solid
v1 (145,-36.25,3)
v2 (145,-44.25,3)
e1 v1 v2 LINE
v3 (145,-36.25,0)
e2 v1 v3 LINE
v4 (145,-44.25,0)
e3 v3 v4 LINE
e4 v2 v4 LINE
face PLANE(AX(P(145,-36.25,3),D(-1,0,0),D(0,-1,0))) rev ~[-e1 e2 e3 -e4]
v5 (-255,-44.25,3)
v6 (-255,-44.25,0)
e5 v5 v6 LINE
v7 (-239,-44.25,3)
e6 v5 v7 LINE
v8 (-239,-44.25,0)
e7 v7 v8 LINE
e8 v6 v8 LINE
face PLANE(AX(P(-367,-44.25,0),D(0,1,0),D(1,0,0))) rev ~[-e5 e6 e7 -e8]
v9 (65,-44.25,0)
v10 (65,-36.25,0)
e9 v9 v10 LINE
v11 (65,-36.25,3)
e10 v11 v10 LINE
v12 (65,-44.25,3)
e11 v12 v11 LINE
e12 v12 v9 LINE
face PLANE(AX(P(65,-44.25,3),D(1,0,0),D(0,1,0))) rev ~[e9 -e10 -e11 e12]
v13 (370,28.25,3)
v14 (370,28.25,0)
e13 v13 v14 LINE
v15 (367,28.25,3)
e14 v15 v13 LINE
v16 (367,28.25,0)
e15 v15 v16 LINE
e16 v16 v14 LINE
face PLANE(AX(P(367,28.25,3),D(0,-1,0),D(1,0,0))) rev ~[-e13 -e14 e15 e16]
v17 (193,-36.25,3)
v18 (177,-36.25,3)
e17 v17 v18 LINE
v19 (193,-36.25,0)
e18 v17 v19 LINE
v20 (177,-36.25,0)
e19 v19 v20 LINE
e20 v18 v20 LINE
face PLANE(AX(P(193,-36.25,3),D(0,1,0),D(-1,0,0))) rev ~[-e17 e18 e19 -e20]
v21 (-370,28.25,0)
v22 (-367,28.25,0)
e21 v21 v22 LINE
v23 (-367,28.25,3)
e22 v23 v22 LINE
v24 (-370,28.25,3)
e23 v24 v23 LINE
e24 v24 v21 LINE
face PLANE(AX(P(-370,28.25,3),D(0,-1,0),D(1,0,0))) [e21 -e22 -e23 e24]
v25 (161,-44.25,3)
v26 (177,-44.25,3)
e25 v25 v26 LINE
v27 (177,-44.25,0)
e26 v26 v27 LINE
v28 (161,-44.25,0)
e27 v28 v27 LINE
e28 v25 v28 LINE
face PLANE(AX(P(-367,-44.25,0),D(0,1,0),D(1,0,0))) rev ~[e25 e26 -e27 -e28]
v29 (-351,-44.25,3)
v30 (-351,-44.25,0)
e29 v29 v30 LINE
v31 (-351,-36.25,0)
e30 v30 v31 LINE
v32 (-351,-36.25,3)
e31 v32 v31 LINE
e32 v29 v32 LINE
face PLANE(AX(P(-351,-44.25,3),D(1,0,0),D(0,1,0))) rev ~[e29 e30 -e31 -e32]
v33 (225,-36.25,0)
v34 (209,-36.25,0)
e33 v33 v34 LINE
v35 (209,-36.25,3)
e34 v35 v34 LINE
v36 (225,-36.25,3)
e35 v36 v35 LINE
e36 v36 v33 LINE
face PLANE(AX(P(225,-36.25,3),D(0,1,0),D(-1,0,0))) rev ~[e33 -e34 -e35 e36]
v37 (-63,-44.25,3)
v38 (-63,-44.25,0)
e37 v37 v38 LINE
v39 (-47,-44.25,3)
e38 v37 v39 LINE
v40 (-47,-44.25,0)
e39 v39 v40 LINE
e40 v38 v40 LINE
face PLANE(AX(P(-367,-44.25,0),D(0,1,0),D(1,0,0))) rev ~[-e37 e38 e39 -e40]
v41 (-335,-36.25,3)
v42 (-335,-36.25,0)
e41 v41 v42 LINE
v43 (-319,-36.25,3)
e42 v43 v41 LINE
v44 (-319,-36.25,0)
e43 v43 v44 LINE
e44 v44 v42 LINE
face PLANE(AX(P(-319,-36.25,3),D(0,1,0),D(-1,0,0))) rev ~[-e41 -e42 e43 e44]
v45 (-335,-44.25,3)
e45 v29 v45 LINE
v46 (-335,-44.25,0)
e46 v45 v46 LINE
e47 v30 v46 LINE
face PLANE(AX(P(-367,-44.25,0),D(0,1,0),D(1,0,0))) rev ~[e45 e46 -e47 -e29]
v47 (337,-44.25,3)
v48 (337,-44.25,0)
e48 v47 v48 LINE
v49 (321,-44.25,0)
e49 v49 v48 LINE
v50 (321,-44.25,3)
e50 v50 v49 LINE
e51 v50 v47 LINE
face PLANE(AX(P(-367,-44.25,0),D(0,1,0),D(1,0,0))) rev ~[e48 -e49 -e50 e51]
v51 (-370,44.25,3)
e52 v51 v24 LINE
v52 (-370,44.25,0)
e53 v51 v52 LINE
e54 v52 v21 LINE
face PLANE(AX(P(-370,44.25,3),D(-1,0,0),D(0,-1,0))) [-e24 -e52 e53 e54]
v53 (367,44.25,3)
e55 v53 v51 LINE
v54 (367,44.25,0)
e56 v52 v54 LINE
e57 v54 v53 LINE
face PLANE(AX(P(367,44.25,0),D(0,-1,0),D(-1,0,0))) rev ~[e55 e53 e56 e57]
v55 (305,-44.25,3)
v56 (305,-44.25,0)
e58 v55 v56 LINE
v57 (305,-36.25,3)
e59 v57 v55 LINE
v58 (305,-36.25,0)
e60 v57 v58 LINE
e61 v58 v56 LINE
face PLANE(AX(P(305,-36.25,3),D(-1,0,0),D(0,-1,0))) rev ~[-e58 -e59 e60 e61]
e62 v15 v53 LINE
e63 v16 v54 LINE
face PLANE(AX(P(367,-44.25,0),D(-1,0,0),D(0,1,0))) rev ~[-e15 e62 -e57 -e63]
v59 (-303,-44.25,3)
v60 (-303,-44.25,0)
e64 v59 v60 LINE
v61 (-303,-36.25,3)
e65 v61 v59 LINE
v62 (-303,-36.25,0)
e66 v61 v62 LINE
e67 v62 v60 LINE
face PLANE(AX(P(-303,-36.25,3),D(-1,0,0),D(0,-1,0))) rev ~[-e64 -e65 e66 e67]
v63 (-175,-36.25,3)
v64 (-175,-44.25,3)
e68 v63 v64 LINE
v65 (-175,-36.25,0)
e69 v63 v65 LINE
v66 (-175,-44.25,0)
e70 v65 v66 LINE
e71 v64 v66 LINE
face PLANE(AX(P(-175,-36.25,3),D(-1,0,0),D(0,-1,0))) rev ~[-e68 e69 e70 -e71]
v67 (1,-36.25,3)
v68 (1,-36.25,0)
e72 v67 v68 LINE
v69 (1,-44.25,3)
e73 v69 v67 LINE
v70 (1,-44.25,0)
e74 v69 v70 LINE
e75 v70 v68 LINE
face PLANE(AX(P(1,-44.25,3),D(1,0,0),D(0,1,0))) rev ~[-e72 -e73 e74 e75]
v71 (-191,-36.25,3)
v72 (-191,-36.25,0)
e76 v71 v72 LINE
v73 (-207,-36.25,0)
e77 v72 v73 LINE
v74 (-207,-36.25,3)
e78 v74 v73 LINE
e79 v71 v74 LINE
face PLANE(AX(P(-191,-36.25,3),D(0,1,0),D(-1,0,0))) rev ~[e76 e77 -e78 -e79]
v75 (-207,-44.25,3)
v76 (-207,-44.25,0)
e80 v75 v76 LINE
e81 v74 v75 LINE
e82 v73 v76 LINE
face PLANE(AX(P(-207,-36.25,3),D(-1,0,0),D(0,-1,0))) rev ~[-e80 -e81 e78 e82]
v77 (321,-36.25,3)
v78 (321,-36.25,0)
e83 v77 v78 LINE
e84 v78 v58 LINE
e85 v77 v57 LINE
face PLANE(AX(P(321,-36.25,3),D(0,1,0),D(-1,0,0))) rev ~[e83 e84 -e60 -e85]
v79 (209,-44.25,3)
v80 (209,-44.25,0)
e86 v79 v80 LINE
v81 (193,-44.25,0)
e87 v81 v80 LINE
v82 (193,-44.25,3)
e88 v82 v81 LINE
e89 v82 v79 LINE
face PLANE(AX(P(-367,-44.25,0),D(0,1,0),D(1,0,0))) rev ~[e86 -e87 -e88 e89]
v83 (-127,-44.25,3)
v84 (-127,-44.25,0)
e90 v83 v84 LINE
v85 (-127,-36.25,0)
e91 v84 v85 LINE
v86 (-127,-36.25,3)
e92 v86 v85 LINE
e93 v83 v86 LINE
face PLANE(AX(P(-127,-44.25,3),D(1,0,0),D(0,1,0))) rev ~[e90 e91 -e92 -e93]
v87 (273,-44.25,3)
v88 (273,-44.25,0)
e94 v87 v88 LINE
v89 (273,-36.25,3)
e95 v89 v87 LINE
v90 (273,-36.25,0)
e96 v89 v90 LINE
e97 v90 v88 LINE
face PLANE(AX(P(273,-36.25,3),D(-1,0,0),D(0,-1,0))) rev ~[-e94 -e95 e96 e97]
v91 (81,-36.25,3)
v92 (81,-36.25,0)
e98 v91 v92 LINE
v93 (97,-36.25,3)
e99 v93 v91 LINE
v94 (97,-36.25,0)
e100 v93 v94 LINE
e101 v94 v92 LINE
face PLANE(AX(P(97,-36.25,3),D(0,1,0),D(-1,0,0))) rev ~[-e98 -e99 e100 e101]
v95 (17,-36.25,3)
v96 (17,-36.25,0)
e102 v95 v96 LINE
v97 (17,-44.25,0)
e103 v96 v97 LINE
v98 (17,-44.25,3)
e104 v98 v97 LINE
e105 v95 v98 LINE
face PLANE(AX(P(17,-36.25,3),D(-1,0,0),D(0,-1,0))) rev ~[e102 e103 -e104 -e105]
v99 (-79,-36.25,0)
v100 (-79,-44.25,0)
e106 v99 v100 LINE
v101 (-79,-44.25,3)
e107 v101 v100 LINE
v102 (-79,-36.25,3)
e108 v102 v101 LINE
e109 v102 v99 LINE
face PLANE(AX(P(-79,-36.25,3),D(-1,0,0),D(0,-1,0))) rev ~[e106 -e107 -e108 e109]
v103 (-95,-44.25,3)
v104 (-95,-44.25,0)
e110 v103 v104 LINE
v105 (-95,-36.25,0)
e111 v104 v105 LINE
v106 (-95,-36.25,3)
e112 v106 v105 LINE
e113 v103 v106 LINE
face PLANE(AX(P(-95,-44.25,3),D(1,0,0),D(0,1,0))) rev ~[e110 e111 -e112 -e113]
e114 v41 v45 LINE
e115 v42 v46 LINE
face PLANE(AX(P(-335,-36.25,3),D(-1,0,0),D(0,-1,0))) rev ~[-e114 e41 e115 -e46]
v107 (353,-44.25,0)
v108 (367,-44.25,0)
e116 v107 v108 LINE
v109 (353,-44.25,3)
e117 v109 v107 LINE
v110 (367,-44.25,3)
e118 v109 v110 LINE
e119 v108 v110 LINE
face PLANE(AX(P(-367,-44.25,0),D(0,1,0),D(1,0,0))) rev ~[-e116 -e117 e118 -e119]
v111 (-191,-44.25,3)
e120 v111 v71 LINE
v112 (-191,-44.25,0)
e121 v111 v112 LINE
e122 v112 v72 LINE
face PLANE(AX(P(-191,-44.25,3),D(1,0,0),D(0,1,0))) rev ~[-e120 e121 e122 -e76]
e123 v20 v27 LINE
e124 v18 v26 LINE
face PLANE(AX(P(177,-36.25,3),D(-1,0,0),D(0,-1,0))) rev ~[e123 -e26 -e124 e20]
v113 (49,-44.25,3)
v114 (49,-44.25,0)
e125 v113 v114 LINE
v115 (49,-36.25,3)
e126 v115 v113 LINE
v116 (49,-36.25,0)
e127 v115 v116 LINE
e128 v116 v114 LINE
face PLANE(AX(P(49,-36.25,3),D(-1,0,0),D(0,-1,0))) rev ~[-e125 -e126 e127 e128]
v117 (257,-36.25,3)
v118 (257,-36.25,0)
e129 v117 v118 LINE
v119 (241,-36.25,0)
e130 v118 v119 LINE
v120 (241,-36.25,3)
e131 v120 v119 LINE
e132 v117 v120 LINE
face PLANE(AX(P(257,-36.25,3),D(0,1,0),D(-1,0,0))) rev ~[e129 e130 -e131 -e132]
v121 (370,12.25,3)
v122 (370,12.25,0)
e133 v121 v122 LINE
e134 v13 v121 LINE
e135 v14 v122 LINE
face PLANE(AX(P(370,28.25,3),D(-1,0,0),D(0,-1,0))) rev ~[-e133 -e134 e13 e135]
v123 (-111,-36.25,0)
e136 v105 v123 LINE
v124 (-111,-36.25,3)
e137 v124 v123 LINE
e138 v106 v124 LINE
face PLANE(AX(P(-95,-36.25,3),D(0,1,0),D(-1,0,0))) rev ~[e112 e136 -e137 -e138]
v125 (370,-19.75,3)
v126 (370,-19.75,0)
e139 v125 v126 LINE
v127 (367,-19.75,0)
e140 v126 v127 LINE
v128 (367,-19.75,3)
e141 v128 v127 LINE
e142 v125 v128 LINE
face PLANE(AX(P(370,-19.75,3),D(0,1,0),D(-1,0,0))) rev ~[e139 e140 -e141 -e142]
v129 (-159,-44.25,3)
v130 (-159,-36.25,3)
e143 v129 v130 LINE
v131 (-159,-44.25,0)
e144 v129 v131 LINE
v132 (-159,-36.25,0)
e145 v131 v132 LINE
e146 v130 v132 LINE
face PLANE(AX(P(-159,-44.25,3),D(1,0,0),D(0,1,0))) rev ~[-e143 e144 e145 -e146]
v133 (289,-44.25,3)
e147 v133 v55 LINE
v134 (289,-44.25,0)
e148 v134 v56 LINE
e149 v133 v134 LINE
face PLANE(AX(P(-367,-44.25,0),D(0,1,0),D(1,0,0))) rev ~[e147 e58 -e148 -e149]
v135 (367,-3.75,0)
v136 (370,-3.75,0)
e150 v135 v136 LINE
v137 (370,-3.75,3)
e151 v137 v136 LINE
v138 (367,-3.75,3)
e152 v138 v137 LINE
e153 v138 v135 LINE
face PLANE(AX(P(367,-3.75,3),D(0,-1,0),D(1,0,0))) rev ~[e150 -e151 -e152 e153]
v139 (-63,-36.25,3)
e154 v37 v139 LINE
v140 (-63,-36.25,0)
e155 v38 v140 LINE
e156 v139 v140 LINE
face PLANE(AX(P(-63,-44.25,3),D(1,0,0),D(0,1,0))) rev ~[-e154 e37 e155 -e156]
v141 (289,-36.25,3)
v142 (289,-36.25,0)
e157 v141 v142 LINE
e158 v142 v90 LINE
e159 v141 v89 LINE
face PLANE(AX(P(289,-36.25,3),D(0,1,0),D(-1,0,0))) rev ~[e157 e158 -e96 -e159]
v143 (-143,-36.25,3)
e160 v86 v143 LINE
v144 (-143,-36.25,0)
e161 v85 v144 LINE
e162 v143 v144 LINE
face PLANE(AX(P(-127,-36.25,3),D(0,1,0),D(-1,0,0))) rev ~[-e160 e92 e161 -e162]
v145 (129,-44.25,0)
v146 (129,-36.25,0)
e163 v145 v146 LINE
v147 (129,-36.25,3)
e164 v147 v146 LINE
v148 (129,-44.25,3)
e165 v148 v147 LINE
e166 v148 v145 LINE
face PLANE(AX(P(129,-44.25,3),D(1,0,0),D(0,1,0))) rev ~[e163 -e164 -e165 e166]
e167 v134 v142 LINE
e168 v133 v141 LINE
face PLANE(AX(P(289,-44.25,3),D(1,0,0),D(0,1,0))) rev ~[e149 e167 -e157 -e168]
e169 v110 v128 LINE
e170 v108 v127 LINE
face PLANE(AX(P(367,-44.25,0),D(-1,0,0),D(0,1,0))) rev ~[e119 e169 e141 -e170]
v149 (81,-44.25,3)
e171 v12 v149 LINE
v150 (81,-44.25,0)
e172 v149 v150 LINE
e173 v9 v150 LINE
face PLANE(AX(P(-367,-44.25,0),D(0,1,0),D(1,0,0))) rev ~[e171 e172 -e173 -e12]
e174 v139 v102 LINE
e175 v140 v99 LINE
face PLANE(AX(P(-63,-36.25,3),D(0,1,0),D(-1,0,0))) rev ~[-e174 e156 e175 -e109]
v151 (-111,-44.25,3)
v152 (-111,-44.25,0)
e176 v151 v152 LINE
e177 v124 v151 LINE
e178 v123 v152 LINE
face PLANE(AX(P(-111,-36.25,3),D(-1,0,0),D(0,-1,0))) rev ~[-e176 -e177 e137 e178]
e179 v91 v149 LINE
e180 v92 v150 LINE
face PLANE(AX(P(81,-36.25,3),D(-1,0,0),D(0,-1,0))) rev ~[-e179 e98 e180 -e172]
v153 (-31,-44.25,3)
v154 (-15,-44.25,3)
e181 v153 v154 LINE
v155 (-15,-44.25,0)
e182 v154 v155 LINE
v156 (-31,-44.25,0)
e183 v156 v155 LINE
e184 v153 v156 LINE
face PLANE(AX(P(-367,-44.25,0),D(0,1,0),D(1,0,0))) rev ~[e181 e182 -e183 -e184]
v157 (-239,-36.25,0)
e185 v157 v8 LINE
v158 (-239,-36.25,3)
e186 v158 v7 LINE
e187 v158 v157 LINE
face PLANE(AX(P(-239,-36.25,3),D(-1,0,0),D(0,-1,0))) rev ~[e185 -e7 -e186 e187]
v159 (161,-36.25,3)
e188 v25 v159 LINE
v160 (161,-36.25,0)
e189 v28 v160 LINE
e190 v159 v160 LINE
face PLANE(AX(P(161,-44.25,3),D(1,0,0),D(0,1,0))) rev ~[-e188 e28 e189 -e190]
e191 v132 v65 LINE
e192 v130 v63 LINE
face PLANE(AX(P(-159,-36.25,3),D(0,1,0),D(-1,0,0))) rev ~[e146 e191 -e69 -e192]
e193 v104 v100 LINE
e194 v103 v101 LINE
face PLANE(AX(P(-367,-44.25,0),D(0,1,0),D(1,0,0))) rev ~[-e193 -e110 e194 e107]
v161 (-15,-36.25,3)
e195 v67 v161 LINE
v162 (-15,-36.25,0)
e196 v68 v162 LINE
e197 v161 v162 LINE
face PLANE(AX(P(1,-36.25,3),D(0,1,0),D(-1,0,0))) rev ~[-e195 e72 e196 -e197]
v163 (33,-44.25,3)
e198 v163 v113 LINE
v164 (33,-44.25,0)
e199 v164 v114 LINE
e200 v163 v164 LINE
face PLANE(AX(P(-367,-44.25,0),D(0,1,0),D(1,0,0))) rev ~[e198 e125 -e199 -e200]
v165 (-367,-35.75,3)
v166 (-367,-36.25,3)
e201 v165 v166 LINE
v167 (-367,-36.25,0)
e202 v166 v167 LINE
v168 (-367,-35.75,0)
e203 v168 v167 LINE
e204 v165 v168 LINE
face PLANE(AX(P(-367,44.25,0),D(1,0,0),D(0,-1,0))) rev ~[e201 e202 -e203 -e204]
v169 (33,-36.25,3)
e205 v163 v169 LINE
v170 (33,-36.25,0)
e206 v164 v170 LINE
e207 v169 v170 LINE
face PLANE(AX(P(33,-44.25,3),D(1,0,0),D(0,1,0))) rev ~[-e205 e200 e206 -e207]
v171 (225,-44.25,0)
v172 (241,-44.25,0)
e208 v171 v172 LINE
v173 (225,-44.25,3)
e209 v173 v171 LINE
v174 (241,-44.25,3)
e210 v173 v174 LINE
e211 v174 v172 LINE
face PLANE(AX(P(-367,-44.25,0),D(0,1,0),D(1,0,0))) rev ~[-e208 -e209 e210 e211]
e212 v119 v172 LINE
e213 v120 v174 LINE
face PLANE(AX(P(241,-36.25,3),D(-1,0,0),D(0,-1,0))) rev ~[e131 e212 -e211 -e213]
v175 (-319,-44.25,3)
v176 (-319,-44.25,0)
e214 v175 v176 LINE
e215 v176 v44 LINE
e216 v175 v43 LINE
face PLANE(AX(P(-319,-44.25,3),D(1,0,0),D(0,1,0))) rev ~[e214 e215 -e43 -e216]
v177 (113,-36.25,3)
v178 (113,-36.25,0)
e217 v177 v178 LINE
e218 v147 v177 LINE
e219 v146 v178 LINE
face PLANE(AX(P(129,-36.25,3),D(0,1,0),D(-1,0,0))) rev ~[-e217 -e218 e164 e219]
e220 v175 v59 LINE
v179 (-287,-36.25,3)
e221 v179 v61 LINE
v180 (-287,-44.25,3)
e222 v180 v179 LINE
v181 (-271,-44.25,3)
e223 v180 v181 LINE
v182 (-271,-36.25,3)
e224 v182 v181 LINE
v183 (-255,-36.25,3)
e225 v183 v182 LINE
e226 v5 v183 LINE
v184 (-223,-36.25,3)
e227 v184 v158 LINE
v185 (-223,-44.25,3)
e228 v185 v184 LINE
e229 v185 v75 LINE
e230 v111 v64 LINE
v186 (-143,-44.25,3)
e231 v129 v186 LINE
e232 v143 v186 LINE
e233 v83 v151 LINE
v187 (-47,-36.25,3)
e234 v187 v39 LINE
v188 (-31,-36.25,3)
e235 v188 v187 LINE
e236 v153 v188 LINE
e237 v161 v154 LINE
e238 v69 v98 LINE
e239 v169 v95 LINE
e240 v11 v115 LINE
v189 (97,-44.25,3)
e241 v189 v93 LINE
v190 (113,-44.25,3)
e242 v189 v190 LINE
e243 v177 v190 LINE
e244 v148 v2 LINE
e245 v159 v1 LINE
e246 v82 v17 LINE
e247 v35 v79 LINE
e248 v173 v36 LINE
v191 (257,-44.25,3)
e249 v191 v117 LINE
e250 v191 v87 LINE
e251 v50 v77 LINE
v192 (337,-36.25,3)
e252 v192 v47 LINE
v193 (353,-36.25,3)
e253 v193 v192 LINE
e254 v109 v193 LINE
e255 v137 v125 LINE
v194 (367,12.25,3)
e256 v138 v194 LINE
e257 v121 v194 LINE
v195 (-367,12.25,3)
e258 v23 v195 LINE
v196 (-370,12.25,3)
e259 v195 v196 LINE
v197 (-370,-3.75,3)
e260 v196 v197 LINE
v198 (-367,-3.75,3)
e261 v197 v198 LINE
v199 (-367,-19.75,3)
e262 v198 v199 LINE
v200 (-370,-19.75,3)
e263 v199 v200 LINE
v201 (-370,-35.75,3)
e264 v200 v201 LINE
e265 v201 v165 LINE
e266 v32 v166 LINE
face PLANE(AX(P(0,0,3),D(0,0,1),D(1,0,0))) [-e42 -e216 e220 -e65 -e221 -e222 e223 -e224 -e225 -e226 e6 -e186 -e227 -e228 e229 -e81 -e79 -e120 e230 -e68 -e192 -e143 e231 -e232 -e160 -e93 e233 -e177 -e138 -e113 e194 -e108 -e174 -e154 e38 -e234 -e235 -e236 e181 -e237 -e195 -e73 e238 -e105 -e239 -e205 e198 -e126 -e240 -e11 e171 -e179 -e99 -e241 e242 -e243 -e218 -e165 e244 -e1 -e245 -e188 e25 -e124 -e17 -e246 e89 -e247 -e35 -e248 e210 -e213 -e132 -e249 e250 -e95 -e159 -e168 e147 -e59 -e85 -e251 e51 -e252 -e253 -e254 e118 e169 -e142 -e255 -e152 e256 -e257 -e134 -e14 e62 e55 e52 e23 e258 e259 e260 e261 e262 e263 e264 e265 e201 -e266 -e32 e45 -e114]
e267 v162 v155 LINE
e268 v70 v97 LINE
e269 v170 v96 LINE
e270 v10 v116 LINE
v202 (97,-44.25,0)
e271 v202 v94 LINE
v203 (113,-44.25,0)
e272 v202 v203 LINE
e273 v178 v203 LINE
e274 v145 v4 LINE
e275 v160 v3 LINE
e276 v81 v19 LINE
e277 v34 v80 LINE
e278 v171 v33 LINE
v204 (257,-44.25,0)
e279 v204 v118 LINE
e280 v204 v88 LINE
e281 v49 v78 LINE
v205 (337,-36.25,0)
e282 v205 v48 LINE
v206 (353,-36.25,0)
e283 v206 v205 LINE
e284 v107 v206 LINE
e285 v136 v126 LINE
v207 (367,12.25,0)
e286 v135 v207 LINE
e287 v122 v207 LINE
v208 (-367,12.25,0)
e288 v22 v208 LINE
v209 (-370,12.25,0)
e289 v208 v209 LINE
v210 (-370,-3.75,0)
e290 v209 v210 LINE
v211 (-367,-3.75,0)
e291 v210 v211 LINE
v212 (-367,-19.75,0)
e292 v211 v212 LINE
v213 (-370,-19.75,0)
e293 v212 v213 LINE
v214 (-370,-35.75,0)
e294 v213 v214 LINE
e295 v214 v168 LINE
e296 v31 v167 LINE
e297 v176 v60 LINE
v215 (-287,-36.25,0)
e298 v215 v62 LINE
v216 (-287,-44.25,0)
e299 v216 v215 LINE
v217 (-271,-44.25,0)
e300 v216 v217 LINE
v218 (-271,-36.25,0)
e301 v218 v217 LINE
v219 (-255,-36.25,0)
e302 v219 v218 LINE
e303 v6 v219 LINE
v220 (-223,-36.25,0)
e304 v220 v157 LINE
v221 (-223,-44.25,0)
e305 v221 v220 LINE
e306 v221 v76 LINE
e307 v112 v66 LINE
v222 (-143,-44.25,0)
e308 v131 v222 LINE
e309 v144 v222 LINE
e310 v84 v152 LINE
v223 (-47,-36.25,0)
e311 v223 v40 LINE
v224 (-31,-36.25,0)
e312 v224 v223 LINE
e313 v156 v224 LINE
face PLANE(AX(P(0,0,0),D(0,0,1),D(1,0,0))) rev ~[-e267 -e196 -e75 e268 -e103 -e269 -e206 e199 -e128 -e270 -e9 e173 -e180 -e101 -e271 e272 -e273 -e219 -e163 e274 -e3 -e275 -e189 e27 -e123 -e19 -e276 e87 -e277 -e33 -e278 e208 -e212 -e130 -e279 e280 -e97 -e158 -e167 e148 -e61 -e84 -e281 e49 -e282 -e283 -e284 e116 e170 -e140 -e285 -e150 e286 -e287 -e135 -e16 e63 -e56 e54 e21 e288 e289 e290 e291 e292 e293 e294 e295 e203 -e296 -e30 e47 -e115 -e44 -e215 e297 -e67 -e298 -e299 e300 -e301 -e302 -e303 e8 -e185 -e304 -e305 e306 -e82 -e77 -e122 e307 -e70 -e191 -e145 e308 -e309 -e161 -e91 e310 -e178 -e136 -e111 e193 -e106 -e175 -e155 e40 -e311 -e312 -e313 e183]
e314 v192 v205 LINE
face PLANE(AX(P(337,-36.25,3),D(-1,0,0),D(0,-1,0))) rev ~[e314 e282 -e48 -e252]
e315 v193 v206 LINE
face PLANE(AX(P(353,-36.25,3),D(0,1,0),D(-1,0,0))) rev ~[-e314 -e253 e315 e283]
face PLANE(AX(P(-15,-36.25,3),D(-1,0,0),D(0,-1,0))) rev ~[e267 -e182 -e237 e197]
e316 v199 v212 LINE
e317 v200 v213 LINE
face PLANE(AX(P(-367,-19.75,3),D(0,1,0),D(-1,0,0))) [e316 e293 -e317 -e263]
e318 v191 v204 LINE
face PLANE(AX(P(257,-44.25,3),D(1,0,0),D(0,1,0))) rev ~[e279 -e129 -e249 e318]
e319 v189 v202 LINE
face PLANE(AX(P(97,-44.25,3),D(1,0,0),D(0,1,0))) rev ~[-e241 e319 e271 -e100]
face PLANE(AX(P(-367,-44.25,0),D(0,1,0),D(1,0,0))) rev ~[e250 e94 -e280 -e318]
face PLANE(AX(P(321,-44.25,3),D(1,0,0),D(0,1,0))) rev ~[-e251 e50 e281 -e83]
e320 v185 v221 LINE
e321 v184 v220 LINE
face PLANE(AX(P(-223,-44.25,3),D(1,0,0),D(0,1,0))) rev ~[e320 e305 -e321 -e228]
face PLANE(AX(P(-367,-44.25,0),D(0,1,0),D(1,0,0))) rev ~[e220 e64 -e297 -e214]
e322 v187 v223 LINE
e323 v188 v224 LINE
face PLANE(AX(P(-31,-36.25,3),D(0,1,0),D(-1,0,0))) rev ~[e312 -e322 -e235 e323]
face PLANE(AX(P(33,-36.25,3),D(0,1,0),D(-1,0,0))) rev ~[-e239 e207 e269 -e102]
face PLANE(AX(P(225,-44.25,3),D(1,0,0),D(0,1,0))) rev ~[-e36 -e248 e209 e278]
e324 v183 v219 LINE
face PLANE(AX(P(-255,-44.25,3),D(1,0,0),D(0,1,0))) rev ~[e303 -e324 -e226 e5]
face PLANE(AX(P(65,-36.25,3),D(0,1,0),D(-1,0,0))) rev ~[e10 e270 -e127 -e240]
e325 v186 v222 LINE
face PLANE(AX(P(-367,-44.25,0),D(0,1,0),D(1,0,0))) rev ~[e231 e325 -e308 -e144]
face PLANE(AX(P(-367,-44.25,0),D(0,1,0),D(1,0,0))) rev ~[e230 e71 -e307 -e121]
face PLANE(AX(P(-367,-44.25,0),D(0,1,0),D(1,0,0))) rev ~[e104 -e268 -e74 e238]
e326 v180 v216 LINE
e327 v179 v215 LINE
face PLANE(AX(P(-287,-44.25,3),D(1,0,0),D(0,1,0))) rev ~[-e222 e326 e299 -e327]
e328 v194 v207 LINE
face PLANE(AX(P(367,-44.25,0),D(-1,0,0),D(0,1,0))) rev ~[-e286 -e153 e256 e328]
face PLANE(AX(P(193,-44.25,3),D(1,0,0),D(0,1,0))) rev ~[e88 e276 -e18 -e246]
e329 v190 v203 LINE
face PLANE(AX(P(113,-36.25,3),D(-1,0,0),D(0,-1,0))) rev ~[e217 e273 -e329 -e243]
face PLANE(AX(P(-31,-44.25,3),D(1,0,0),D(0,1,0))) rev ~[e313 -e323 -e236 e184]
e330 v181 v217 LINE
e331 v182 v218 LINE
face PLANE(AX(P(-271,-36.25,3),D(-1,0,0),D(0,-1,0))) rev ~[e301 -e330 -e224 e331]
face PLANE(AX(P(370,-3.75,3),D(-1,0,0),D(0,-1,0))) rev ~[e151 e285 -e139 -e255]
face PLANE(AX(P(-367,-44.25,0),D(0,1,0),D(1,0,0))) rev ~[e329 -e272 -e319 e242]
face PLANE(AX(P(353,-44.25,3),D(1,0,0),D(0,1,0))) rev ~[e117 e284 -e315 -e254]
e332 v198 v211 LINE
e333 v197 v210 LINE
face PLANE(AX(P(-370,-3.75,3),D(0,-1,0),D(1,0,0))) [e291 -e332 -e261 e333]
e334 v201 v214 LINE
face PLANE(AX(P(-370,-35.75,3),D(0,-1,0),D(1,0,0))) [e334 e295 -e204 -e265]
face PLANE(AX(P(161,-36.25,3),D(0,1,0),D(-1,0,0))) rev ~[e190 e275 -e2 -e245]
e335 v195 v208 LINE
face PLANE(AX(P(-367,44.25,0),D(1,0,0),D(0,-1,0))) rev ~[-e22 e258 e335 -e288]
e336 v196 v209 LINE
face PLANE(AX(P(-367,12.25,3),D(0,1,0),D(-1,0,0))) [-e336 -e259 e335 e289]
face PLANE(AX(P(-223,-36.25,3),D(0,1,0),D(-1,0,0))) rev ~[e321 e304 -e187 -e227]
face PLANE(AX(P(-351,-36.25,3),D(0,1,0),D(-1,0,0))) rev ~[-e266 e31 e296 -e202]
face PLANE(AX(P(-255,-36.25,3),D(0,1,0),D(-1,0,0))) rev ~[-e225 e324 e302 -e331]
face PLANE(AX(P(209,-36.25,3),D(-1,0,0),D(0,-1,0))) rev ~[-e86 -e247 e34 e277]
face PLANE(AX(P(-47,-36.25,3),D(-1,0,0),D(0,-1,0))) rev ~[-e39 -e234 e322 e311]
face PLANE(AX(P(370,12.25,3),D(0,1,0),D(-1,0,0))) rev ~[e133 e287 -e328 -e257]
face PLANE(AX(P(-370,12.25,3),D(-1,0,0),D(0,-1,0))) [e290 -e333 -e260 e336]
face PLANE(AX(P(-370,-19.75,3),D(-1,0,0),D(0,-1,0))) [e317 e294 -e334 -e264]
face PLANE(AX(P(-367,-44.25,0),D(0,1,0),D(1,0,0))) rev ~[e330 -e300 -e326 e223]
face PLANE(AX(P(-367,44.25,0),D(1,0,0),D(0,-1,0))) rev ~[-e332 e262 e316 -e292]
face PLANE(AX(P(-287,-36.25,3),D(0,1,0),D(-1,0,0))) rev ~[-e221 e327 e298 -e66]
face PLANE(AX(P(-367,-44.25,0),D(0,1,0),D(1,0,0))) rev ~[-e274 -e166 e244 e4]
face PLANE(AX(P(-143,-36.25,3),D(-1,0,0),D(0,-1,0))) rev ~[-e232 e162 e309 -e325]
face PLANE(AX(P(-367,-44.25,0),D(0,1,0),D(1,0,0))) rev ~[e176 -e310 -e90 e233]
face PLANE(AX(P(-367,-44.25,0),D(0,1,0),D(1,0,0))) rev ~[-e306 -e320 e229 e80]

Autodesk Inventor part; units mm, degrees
ref_plane "YZ Plane" through (0, 0, 0) normal (1, 0, 0) x (0, 1, 0)
ref_plane "XZ Plane" through (0, 0, 0) normal (0, 1, 0) x (-1, 0, 0)
ref_plane "XY Plane" through (0, 0, 0) normal (0, 0, 1) x (1, 0, 0)
sketch "Эскиз1" plane through (0, 0, 0) normal (0, 0, 1) x (1, 0, 0)
  line L0 (-367, -44.25) -> (367, -44.25)
  line L1 (367, -44.25) -> (367, 44.25)
  line L2 (367, 44.25) -> (-367, 44.25)
  line L3 (-367, 44.25) -> (-367, -44.25)
  line L4 (-367, -44.25) -> (367, 44.25) construction
  line L5 (367, -44.25) -> (-367, 44.25) construction
  point P0 (0, 0)
  dimension "d0" = 734
  dimension "d1" = 88.5
extrude "Выдавливание1" add sketch "Эскиз1" along normal blind 3
sketch "Эскиз2" plane through (0, 0, 3) normal (0, 0, 1) x (1, 0, 0)
  line L0 (-367, -44.25) -> (367, -44.25) projected
  line L1 (-367, -44.25) -> (-351, -44.25)
  line L2 (-351, -44.25) -> (-351, -36.25)
  line L3 (-351, -36.25) -> (-367, -36.25)
  line L4 (-367, -36.25) -> (-367, -44.25)
  line L5 (-335, -44.25) -> (-319, -44.25)
  line L6 (-319, -44.25) -> (-319, -36.25)
  line L7 (-319, -36.25) -> (-335, -36.25)
  line L8 (-335, -36.25) -> (-335, -44.25)
  line L9 (-303, -44.25) -> (-287, -44.25)
  line L10 (-287, -44.25) -> (-287, -36.25)
  line L11 (-287, -36.25) -> (-303, -36.25)
  line L12 (-303, -36.25) -> (-303, -44.25)
  line L13 (-271, -44.25) -> (-255, -44.25)
  line L14 (-255, -44.25) -> (-255, -36.25)
  line L15 (-255, -36.25) -> (-271, -36.25)
  line L16 (-271, -36.25) -> (-271, -44.25)
  line L17 (-239, -44.25) -> (-223, -44.25)
  line L18 (-223, -44.25) -> (-223, -36.25)
  line L19 (-223, -36.25) -> (-239, -36.25)
  line L20 (-239, -36.25) -> (-239, -44.25)
  line L21 (-207, -44.25) -> (-191, -44.25)
  line L22 (-191, -44.25) -> (-191, -36.25)
  line L23 (-191, -36.25) -> (-207, -36.25)
  line L24 (-207, -36.25) -> (-207, -44.25)
  line L25 (-175, -44.25) -> (-159, -44.25)
  line L26 (-159, -44.25) -> (-159, -36.25)
  line L27 (-159, -36.25) -> (-175, -36.25)
  line L28 (-175, -36.25) -> (-175, -44.25)
  line L29 (-143, -44.25) -> (-127, -44.25)
  line L30 (-127, -44.25) -> (-127, -36.25)
  line L31 (-127, -36.25) -> (-143, -36.25)
  line L32 (-143, -36.25) -> (-143, -44.25)
  line L33 (-111, -44.25) -> (-95, -44.25)
  line L34 (-95, -44.25) -> (-95, -36.25)
  line L35 (-95, -36.25) -> (-111, -36.25)
  line L36 (-111, -36.25) -> (-111, -44.25)
  line L37 (-79, -44.25) -> (-63, -44.25)
  line L38 (-63, -44.25) -> (-63, -36.25)
  line L39 (-63, -36.25) -> (-79, -36.25)
  line L40 (-79, -36.25) -> (-79, -44.25)
  line L41 (-47, -44.25) -> (-31, -44.25)
  line L42 (-31, -44.25) -> (-31, -36.25)
  line L43 (-31, -36.25) -> (-47, -36.25)
  line L44 (-47, -36.25) -> (-47, -44.25)
  line L45 (-15, -44.25) -> (1, -44.25)
  line L46 (1, -44.25) -> (1, -36.25)
  line L47 (1, -36.25) -> (-15, -36.25)
  line L48 (-15, -36.25) -> (-15, -44.25)
  line L49 (17, -44.25) -> (33, -44.25)
  line L50 (33, -44.25) -> (33, -36.25)
  line L51 (33, -36.25) -> (17, -36.25)
  line L52 (17, -36.25) -> (17, -44.25)
  line L53 (49, -44.25) -> (65, -44.25)
  line L54 (65, -44.25) -> (65, -36.25)
  line L55 (65, -36.25) -> (49, -36.25)
  line L56 (49, -36.25) -> (49, -44.25)
  line L57 (81, -44.25) -> (97, -44.25)
  line L58 (97, -44.25) -> (97, -36.25)
  line L59 (97, -36.25) -> (81, -36.25)
  line L60 (81, -36.25) -> (81, -44.25)
  line L61 (113, -44.25) -> (129, -44.25)
  line L62 (129, -44.25) -> (129, -36.25)
  line L63 (129, -36.25) -> (113, -36.25)
  line L64 (113, -36.25) -> (113, -44.25)
  line L65 (145, -44.25) -> (161, -44.25)
  line L66 (161, -44.25) -> (161, -36.25)
  line L67 (161, -36.25) -> (145, -36.25)
  line L68 (145, -36.25) -> (145, -44.25)
  line L69 (177, -44.25) -> (193, -44.25)
  line L70 (193, -44.25) -> (193, -36.25)
  line L71 (193, -36.25) -> (177, -36.25)
  line L72 (177, -36.25) -> (177, -44.25)
  line L73 (209, -44.25) -> (225, -44.25)
  line L74 (225, -44.25) -> (225, -36.25)
  line L75 (225, -36.25) -> (209, -36.25)
  line L76 (209, -36.25) -> (209, -44.25)
  line L77 (241, -44.25) -> (257, -44.25)
  line L78 (257, -44.25) -> (257, -36.25)
  line L79 (257, -36.25) -> (241, -36.25)
  line L80 (241, -36.25) -> (241, -44.25)
  line L81 (273, -44.25) -> (289, -44.25)
  line L82 (289, -44.25) -> (289, -36.25)
  line L83 (289, -36.25) -> (273, -36.25)
  line L84 (273, -36.25) -> (273, -44.25)
  line L85 (305, -44.25) -> (321, -44.25)
  line L86 (321, -44.25) -> (321, -36.25)
  line L87 (321, -36.25) -> (305, -36.25)
  line L88 (305, -36.25) -> (305, -44.25)
  line L89 (337, -44.25) -> (353, -44.25)
  line L90 (353, -44.25) -> (353, -36.25)
  line L91 (353, -36.25) -> (337, -36.25)
  line L92 (337, -36.25) -> (337, -44.25)
  point P0 (0, 0)
  dimension "d4" = 16
  dimension "d5" = 8
  dimension "d8" = 32
extrude "Выдавливание2" cut sketch "Эскиз2" against normal blind 3
sketch "Эскиз3" plane through (0, 0, 3) normal (0, 0, 1) x (1, 0, 0)
  line L0 (367, 44.25) -> (-367, 44.25) projected
  line L1 (-367, 44.25) -> (-370, 44.25)
  line L2 (-370, 44.25) -> (-370, 28.25)
  line L3 (-370, 28.25) -> (-367, 28.25)
  line L4 (-367, 28.25) -> (-367, 44.25)
  line L5 (-367, 12.25) -> (-370, 12.25)
  line L6 (-370, 12.25) -> (-370, -3.75)
  line L7 (-370, -3.75) -> (-367, -3.75)
  line L8 (-367, -3.75) -> (-367, 12.25)
  line L9 (-367, -19.75) -> (-370, -19.75)
  line L10 (-370, -19.75) -> (-370, -35.75)
  line L11 (-370, -35.75) -> (-367, -35.75)
  line L12 (-367, -35.75) -> (-367, -19.75)
  line L13 (367, -44.25) -> (367, 44.25) projected
  line L14 (367, 28.25) -> (367, 44.25)
  line L15 (367, 28.25) -> (370, 28.25)
  line L16 (370, 28.25) -> (370, 12.25)
  line L17 (370, 12.25) -> (367, 12.25)
  line L18 (367, 12.25) -> (367, 28.25)
  line L19 (370, -19.75) -> (367, -19.75)
  line L20 (370, -3.75) -> (370, -19.75)
  line L21 (367, -3.75) -> (370, -3.75)
  line L22 (367, -19.75) -> (367, -3.75)
  point P0 (0, 0)
  dimension "d15" = 3
  dimension "d16" = 16
  dimension "d19" = 32
  dimension "d24" = 3
  dimension "d25" = 16
  dimension "d28" = 32
extrude "Выдавливание3" add sketch "Эскиз3" against normal blind 3
properties part number "КВ33.044.004 - Стенка блока управления" material "Дерево (береза)"
